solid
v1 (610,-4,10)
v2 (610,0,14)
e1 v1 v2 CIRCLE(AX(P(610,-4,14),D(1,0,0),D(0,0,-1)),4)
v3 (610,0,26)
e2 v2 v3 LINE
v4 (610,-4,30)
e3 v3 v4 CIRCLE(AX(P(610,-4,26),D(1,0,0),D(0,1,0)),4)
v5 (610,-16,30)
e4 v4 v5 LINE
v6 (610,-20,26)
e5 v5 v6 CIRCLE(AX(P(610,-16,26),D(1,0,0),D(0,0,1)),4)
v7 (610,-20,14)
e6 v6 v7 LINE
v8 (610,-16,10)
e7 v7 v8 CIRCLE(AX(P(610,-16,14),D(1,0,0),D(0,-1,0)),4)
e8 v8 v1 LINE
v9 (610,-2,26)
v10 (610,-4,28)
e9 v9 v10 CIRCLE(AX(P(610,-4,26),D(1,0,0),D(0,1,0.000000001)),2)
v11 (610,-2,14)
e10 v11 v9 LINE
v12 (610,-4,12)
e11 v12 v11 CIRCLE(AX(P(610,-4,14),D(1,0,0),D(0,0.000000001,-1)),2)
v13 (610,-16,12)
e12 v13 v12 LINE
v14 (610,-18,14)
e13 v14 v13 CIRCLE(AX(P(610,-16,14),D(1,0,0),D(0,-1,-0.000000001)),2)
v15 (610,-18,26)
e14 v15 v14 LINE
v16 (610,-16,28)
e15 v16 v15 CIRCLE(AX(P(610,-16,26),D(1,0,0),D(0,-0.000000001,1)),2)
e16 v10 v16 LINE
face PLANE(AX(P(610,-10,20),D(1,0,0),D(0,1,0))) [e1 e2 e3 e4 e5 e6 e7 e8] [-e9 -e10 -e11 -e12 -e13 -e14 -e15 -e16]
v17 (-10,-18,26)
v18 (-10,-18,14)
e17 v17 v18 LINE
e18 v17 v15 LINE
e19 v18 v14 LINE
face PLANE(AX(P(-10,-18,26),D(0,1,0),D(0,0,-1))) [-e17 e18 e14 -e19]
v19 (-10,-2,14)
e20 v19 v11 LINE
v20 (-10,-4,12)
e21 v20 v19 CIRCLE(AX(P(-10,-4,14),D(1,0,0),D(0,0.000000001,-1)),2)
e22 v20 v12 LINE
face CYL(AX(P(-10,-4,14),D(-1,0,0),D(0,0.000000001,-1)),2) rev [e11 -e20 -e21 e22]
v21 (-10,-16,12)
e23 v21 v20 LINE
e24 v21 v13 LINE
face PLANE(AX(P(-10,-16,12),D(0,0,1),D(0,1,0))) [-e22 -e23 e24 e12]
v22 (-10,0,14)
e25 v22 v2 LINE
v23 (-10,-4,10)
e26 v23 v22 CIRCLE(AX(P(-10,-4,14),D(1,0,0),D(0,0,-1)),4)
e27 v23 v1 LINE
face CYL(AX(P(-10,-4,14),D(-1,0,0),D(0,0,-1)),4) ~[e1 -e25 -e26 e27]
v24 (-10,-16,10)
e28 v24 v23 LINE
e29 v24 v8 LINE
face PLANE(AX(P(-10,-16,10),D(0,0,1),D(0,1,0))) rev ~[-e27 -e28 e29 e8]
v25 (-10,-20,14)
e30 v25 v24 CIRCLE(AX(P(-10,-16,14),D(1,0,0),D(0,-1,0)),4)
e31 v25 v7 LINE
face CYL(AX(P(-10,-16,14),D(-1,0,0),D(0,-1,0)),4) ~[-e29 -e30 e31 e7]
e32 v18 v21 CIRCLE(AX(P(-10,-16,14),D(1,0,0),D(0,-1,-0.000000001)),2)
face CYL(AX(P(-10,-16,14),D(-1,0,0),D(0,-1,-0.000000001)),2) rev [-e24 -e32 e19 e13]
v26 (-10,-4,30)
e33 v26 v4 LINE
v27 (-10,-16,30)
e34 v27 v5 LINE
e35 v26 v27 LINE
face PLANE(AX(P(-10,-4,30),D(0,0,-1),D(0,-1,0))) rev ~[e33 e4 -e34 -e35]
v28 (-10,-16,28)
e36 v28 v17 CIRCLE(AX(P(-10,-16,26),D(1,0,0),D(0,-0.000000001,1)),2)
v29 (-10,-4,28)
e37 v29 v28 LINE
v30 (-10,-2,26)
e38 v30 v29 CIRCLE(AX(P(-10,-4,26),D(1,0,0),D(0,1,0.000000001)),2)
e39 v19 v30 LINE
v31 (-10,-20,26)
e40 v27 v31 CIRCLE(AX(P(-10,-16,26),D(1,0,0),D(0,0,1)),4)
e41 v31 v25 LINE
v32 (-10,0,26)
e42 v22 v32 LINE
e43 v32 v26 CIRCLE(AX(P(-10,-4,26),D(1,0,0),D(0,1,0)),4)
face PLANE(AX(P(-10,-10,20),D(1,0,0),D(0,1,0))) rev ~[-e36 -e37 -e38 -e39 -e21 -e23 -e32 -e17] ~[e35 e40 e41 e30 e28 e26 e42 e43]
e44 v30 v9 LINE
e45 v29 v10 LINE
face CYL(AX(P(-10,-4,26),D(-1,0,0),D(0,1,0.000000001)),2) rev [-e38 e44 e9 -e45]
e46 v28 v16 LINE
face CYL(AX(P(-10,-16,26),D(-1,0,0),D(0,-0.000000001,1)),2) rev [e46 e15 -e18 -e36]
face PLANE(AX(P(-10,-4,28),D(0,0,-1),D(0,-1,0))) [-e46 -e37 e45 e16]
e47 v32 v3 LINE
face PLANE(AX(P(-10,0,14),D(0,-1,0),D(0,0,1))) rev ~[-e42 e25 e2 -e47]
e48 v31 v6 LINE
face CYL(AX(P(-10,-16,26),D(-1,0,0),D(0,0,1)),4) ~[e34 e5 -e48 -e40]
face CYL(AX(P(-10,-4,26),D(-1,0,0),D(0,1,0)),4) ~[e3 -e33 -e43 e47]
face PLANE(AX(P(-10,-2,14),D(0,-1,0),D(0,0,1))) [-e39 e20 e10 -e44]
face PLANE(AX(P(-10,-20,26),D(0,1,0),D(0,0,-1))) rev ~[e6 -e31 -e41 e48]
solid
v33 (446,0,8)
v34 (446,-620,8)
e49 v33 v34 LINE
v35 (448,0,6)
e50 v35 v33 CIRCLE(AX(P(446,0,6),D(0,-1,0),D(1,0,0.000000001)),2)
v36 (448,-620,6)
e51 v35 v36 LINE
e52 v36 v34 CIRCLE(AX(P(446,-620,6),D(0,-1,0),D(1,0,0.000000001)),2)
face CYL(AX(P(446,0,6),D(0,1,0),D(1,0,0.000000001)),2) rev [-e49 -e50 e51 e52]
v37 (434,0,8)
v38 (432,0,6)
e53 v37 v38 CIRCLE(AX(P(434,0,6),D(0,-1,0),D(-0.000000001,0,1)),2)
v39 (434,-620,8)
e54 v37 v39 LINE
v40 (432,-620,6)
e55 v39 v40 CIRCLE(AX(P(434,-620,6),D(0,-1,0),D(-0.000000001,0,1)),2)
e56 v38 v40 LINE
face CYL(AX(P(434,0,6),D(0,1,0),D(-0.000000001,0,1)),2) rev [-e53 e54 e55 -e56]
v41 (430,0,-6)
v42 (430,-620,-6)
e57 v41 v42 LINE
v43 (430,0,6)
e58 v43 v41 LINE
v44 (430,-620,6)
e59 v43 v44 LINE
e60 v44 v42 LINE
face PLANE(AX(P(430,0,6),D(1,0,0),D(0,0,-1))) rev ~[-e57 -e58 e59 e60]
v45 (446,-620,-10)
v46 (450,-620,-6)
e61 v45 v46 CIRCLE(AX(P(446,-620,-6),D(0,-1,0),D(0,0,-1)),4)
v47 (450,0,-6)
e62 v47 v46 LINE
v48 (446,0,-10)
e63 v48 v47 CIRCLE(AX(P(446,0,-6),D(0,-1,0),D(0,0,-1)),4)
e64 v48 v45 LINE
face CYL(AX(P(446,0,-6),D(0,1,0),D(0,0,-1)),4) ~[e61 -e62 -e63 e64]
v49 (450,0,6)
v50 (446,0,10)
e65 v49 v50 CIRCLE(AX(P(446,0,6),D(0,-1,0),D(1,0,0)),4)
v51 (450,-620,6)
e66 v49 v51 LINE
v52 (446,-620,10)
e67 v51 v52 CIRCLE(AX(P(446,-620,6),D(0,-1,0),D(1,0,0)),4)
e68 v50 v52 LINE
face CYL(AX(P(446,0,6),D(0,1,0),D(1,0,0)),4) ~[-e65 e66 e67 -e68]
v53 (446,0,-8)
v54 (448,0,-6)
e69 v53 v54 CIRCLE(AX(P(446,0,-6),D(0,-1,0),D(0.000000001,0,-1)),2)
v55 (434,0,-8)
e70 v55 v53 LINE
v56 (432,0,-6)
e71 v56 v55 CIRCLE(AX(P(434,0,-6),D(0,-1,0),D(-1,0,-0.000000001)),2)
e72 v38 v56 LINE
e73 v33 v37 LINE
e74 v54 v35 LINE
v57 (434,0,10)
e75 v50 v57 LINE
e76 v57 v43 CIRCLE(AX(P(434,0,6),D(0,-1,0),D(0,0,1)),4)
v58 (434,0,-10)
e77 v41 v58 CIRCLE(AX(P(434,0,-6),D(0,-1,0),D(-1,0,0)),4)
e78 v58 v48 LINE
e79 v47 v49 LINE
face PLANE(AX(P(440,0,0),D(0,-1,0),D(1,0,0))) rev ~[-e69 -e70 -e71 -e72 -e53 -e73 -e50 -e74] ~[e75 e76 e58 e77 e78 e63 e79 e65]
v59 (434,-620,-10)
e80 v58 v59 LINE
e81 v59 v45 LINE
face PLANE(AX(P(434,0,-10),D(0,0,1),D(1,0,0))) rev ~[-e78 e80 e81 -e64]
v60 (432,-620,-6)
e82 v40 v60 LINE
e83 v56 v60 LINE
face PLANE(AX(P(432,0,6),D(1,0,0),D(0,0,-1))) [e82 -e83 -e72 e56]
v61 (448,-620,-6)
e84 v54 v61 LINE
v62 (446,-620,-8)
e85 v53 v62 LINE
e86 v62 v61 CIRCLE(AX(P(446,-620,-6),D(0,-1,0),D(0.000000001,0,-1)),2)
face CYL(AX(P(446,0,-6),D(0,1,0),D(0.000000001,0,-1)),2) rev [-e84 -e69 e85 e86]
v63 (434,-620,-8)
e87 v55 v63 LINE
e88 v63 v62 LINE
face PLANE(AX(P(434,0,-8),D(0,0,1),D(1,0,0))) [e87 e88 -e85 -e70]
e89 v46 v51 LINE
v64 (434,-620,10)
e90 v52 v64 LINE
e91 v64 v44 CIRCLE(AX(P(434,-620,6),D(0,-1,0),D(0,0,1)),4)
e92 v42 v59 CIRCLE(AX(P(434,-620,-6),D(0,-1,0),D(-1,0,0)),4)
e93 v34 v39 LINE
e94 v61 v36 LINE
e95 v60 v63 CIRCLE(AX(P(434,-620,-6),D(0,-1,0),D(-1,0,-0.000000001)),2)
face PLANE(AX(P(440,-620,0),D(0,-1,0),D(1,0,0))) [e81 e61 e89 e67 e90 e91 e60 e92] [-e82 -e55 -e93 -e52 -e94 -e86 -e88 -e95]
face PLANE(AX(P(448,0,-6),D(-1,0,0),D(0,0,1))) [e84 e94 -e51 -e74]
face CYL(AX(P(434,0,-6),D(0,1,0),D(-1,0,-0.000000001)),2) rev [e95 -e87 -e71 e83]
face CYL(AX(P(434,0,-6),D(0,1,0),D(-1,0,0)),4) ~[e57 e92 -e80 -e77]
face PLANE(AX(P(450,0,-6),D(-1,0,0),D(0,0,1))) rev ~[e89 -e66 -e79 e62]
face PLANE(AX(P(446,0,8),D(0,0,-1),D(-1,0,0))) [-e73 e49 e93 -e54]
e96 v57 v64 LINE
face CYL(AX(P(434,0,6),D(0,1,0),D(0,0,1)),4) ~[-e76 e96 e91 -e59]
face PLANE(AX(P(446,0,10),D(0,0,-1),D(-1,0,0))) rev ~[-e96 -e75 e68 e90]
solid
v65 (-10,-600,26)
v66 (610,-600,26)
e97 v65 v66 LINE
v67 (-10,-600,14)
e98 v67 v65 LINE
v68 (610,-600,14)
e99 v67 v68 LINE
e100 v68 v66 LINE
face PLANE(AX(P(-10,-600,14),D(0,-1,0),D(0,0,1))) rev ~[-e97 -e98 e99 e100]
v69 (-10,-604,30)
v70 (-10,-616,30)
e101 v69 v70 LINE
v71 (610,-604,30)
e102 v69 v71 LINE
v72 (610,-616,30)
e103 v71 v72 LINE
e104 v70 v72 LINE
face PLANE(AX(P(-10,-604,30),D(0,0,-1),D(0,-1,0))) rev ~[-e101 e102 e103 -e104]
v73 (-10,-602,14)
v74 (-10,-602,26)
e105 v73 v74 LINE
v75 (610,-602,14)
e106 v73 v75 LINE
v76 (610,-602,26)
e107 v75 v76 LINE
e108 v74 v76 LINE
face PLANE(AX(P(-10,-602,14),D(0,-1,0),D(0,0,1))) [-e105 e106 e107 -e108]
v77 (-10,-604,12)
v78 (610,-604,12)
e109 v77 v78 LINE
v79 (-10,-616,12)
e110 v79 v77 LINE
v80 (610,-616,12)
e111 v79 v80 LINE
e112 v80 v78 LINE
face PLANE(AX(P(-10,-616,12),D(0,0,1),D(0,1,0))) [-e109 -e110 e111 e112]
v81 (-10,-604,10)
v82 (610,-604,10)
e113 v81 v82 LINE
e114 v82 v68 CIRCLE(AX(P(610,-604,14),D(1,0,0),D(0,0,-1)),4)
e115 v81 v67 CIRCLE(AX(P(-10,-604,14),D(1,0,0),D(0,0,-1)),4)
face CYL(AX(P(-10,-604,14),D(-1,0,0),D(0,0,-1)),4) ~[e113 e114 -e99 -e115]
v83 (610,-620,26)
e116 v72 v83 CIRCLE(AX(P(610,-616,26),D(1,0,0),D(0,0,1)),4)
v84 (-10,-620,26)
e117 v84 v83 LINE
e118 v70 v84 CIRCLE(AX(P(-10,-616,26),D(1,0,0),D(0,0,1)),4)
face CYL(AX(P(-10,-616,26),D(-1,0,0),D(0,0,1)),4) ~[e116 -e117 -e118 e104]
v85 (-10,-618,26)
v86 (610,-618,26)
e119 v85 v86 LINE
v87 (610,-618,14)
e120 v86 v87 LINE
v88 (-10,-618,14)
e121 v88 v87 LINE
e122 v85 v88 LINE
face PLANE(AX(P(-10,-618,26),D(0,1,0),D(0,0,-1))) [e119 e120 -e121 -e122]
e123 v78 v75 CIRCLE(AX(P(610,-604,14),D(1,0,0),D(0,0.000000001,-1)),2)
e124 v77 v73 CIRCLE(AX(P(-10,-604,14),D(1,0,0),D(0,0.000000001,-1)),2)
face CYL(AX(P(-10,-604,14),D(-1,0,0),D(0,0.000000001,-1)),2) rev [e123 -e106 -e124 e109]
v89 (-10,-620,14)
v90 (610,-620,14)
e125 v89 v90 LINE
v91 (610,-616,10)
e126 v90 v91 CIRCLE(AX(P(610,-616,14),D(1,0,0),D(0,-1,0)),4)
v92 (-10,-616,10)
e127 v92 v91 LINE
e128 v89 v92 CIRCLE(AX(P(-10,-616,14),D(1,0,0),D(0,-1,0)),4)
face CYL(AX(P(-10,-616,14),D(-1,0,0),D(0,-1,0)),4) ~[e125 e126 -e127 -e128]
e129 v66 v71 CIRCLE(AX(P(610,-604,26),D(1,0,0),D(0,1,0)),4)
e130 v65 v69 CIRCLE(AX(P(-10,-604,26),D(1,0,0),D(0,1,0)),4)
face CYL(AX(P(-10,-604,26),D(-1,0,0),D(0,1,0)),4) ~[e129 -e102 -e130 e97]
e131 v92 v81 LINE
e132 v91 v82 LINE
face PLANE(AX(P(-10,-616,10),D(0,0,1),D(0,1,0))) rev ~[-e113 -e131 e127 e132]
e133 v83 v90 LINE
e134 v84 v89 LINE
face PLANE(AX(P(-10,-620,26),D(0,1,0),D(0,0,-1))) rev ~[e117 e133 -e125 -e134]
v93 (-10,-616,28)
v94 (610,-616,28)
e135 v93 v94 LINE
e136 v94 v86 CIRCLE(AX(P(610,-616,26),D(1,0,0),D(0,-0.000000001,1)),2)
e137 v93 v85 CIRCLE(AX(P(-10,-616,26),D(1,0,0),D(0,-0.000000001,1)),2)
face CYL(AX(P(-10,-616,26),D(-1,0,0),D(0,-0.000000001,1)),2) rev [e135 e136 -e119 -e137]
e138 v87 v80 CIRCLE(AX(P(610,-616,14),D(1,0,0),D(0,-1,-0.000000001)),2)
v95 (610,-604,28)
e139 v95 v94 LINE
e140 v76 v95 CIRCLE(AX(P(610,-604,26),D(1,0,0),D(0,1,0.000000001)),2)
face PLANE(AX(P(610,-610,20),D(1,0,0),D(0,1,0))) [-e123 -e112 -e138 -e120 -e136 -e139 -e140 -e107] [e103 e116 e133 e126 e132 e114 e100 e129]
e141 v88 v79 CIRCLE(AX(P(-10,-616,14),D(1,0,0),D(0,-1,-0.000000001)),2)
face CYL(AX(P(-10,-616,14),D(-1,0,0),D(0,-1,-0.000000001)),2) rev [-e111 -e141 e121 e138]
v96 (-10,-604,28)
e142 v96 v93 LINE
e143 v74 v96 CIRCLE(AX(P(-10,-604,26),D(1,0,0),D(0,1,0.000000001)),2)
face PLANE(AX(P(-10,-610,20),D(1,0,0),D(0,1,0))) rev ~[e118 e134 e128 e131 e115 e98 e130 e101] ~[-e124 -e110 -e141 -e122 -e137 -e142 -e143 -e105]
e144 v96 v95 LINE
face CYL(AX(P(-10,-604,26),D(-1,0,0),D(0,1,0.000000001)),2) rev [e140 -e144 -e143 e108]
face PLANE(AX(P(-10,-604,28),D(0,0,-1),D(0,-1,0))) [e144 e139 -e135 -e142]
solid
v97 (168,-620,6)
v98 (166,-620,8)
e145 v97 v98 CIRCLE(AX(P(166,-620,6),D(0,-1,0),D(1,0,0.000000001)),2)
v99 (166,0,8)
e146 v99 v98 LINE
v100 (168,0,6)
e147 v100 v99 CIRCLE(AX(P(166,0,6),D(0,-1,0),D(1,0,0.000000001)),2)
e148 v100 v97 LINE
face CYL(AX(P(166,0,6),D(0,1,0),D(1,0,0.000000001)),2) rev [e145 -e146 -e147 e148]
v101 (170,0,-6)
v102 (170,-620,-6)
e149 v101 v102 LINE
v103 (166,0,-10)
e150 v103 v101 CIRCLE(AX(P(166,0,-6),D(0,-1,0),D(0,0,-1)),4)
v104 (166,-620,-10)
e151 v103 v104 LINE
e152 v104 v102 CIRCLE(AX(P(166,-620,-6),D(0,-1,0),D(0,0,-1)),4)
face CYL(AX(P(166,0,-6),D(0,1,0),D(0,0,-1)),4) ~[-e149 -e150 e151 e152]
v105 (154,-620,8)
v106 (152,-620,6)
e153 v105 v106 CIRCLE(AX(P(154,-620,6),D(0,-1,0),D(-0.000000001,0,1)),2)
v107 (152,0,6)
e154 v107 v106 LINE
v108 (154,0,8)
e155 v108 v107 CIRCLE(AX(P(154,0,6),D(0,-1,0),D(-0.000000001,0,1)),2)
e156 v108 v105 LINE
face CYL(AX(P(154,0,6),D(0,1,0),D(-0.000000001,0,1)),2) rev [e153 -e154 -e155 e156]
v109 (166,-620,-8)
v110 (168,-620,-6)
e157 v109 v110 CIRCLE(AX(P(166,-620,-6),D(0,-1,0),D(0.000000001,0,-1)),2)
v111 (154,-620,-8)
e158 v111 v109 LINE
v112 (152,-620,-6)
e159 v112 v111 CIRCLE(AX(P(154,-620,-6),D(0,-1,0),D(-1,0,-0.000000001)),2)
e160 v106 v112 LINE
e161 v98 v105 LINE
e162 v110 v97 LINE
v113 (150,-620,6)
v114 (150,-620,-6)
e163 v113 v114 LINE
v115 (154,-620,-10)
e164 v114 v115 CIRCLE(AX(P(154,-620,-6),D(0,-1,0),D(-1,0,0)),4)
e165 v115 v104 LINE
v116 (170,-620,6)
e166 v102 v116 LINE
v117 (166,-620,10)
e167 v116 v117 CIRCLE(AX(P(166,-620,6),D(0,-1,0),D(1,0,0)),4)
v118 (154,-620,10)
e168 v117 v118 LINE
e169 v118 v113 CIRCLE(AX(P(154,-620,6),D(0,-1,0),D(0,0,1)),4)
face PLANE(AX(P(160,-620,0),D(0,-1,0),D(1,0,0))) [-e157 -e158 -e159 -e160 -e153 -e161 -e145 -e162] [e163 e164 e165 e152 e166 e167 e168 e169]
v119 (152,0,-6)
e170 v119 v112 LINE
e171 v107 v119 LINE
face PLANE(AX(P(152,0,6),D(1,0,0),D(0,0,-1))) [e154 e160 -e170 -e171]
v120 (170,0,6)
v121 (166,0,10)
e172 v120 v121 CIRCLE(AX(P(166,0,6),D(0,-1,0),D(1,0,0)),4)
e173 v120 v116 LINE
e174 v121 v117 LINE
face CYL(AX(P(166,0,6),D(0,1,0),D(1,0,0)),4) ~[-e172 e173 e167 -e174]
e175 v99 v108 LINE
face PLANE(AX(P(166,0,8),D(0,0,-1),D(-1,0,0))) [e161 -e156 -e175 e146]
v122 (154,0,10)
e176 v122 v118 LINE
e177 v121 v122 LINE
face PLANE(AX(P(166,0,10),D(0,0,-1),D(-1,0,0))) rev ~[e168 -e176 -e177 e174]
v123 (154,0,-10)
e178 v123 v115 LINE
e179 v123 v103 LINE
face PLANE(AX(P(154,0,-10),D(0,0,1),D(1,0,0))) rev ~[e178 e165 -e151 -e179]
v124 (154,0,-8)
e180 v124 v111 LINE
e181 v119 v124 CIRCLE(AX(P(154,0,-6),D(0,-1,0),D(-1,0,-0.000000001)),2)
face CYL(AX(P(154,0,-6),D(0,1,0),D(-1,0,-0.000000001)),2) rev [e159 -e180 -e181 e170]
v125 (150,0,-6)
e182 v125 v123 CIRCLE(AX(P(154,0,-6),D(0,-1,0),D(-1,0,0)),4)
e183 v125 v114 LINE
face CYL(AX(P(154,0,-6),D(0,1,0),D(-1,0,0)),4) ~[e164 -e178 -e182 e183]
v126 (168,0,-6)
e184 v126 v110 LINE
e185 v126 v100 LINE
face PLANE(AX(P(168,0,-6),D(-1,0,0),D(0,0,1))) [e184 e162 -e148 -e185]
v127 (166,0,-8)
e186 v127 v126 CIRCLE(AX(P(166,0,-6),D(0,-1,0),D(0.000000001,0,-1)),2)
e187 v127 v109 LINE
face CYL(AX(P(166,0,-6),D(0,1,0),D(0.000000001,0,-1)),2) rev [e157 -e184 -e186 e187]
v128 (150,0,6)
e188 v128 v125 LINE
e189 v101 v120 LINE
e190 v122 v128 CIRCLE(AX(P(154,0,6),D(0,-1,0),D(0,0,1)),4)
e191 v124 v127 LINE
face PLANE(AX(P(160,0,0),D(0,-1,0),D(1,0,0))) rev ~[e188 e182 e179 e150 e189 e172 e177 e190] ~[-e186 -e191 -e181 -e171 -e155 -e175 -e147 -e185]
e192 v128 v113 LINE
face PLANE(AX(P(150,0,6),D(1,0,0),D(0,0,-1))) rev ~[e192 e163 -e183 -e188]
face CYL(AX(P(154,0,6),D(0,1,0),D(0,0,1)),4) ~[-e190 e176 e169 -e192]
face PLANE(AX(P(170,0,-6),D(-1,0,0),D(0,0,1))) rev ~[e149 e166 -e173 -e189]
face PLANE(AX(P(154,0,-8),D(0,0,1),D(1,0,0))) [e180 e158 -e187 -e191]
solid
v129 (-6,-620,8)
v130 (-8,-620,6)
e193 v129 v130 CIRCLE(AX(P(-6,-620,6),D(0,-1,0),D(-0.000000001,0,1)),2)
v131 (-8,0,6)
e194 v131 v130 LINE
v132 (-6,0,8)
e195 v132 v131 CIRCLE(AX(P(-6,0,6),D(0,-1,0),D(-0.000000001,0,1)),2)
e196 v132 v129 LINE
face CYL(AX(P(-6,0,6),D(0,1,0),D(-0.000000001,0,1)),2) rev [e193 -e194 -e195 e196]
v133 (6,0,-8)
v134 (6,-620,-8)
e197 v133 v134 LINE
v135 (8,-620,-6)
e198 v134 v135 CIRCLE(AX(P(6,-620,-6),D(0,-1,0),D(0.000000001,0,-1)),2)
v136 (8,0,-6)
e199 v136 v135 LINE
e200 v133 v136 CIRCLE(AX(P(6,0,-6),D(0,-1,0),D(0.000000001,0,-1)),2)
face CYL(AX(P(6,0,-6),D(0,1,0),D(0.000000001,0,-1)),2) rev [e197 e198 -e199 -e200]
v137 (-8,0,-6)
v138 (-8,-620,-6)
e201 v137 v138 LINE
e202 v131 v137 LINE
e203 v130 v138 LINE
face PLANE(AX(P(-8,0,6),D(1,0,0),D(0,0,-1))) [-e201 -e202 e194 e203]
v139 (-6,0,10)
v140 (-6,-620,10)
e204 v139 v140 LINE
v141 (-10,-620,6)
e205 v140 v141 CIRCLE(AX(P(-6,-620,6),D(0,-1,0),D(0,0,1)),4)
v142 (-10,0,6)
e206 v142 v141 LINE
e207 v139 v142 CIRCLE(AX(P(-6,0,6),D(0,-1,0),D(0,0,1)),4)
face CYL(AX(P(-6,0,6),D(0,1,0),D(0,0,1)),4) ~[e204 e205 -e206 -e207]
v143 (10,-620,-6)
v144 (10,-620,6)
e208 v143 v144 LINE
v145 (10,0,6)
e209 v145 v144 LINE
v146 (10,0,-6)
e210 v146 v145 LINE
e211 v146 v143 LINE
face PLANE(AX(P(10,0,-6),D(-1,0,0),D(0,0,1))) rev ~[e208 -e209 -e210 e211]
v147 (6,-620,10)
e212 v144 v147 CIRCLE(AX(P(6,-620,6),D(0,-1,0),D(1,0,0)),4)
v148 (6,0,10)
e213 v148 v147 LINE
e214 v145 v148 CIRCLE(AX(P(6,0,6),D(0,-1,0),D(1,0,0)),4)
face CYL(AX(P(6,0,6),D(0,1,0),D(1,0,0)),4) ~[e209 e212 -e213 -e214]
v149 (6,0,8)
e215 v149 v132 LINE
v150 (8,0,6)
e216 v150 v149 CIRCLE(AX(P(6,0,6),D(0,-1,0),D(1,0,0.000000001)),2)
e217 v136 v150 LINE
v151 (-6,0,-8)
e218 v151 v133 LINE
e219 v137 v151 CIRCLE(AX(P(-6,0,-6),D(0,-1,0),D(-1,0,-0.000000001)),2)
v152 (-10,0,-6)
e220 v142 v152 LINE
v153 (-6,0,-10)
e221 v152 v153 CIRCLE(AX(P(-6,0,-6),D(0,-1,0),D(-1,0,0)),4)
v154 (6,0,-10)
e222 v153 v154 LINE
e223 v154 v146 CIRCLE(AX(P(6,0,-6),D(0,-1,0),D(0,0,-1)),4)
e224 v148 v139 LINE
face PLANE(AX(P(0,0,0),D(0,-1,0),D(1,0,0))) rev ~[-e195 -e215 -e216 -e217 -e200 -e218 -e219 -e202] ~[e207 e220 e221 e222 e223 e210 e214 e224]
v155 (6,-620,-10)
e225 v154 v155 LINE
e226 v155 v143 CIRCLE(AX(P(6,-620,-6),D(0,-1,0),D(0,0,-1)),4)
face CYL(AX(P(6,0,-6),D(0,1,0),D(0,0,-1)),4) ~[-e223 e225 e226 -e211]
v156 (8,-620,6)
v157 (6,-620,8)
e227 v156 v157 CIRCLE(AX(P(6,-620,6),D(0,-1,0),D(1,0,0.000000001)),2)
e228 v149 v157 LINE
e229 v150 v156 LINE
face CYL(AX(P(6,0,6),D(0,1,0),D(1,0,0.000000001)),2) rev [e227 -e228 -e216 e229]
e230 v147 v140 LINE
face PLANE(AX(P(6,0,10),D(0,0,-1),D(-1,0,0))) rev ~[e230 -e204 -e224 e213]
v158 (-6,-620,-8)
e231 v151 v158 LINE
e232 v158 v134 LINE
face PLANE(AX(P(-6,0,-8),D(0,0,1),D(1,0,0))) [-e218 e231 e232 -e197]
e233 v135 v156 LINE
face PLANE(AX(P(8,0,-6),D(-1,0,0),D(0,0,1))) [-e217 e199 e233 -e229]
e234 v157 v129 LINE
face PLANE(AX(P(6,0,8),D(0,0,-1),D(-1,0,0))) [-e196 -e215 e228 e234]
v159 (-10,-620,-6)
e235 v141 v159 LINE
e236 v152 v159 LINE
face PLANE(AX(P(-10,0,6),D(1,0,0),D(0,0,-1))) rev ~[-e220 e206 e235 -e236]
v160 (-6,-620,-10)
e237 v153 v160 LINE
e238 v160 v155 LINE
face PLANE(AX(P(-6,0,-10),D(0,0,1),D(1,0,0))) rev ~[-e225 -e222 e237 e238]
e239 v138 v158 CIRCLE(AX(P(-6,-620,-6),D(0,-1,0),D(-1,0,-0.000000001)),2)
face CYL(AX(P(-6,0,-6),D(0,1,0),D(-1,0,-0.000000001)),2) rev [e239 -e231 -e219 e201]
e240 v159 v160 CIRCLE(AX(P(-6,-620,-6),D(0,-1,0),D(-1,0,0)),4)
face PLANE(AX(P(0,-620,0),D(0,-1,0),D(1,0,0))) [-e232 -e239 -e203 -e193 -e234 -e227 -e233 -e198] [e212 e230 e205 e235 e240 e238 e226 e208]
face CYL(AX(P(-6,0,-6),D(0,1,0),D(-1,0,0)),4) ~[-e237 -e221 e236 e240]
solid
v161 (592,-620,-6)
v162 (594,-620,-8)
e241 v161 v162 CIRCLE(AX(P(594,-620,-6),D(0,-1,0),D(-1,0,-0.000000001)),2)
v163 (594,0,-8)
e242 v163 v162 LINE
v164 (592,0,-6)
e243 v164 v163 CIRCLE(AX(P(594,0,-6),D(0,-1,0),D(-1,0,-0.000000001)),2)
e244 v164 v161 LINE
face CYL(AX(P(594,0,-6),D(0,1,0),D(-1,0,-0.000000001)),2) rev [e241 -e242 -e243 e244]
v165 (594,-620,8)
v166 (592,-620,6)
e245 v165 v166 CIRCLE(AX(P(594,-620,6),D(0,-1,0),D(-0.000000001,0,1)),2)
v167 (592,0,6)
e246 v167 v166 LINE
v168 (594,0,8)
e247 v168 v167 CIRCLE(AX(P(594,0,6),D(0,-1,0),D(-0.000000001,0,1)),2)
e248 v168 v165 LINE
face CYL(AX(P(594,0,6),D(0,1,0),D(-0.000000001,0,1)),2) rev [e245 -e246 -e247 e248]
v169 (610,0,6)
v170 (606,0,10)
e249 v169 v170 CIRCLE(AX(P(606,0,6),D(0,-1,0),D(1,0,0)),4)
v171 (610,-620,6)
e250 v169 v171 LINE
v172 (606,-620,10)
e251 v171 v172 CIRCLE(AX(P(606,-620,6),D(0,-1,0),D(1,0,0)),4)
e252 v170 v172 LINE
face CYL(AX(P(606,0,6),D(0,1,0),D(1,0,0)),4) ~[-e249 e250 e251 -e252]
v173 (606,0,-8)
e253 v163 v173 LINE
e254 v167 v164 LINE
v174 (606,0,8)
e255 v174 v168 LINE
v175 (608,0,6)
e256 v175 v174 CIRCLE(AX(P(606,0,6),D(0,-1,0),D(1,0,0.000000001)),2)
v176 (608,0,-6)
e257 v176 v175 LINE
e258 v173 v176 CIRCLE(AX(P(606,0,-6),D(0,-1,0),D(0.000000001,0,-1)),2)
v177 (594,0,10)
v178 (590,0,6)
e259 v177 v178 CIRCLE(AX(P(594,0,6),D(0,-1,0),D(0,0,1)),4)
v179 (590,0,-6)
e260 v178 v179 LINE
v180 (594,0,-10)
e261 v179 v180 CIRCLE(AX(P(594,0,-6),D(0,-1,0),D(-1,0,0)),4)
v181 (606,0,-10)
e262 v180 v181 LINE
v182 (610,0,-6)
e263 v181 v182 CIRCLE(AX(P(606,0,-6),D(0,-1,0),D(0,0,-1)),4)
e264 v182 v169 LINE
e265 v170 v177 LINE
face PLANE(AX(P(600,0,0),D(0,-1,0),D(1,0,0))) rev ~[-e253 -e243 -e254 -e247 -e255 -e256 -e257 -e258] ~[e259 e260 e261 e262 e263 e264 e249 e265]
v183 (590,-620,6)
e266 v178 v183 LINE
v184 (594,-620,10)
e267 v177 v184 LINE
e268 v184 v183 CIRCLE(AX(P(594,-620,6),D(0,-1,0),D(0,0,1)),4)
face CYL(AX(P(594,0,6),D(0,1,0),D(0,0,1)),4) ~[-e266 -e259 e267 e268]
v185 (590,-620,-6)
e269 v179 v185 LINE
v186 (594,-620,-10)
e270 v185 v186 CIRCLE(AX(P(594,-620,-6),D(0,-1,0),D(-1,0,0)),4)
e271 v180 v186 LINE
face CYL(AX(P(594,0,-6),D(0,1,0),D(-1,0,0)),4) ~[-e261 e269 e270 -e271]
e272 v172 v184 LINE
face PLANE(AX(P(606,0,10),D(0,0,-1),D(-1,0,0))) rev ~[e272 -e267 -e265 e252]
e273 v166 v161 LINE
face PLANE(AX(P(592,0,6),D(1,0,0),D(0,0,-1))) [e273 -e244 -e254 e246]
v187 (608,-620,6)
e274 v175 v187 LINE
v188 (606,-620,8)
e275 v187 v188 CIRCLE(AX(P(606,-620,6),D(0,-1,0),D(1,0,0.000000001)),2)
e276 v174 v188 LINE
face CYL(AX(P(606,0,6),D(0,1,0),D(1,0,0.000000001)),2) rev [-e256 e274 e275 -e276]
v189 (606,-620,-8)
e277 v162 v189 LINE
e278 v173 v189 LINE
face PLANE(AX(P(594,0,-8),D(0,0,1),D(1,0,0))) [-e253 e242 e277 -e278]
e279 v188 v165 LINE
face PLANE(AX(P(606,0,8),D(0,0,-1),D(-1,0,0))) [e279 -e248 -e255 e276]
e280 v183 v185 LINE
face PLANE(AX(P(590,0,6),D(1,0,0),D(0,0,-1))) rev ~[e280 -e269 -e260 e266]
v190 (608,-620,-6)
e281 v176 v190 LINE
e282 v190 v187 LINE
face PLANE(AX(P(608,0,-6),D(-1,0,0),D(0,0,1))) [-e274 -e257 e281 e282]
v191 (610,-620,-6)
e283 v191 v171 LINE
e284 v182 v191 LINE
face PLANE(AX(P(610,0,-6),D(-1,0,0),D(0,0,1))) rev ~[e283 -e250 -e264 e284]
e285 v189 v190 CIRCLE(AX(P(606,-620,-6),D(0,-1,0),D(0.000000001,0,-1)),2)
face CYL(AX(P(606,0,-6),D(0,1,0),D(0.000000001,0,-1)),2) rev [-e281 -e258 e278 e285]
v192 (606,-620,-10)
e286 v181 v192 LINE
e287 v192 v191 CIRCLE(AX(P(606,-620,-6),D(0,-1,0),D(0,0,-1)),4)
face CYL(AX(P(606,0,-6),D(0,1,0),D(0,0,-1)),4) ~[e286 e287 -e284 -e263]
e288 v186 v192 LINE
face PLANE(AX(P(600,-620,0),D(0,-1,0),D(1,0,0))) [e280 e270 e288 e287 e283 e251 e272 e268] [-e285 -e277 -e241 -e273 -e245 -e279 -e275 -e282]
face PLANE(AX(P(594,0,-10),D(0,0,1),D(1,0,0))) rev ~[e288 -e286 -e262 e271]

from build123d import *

# Parameters (mm, degrees)
SQUARE_TUBE_20_X_20_X_2_1_DEPTH   = 620
SQUARE_TUBE_20_X_20_X_2_1_2_DEPTH = 620
SQUARE_TUBE_20_X_20_X_2_1_3_DEPTH = 620
SQUARE_TUBE_20_X_20_X_2_1_4_DEPTH = 620
SQUARE_TUBE_20_X_20_X_2_1_5_DEPTH = 620
SQUARE_TUBE_20_X_20_X_2_1_6_DEPTH = 620


with BuildPart() as part:
    # Sketch12 → Square tube 20 X 20 X 2(1) (new body)
    with BuildSketch(Plane(origin=(600, 0, 0), x_dir=(1, 0, 0), z_dir=(0, -1, 0))):
        with BuildLine():
            Line((-6, -10), (6, -10))
            ThreePointArc((6, -10), (8.828427125, -8.828427125), (10, -6))
            Line((10, -6), (10, 6))
            ThreePointArc((10, 6), (8.828427125, 8.828427125), (6, 10))
            Line((6, 10), (-6, 10))
            ThreePointArc((-6, 10), (-8.828427125, 8.828427125), (-10, 6))
            Line((-10, 6), (-10, -6))
            ThreePointArc((-10, -6), (-8.828427125, -8.828427125), (-6, -10))
        make_face()
        with BuildLine():
            Line((-6, -8), (6, -8))
            ThreePointArc((6, -8), (7.414213562, -7.414213562), (8, -6))
            Line((8, -6), (8, 6))
            ThreePointArc((8, 6), (7.414213562, 7.414213562), (6, 8))
            Line((6, 8), (-6, 8))
            ThreePointArc((-6, 8), (-7.414213562, 7.414213562), (-8, 6))
            Line((-8, 6), (-8, -6))
            ThreePointArc((-8, -6), (-7.414213562, -7.414213562), (-6, -8))
        make_face(mode=Mode.SUBTRACT)
    extrude(amount=SQUARE_TUBE_20_X_20_X_2_1_DEPTH)


with BuildPart() as body_2:
    # Sketch12 on segment 2 (carried to segment 2) → Square tube 20 X 20 X 2_1 2 (new body)
    with BuildSketch(Plane.XZ):
        with BuildLine():
            Line((-6, -10), (6, -10))
            ThreePointArc((6, -10), (8.828427125, -8.828427125), (10, -6))
            Line((10, -6), (10, 6))
            ThreePointArc((10, 6), (8.828427125, 8.828427125), (6, 10))
            Line((6, 10), (-6, 10))
            ThreePointArc((-6, 10), (-8.828427125, 8.828427125), (-10, 6))
            Line((-10, 6), (-10, -6))
            ThreePointArc((-10, -6), (-8.828427125, -8.828427125), (-6, -10))
        make_face()
        with BuildLine():
            Line((-6, -8), (6, -8))
            ThreePointArc((6, -8), (7.414213562, -7.414213562), (8, -6))
            Line((8, -6), (8, 6))
            ThreePointArc((8, 6), (7.414213562, 7.414213562), (6, 8))
            Line((6, 8), (-6, 8))
            ThreePointArc((-6, 8), (-7.414213562, 7.414213562), (-8, 6))
            Line((-8, 6), (-8, -6))
            ThreePointArc((-8, -6), (-7.414213562, -7.414213562), (-6, -8))
        make_face(mode=Mode.SUBTRACT)
    extrude(amount=SQUARE_TUBE_20_X_20_X_2_1_2_DEPTH)


with BuildPart() as body_3:
    # Sketch12 on segment 3 (carried to segment 3) → Square tube 20 X 20 X 2_1 3 (new body)
    with BuildSketch(Plane(origin=(440, 0, 0), x_dir=(1, 0, 0), z_dir=(0, -1, 0))):
        with BuildLine():
            Line((-6, -10), (6, -10))
            ThreePointArc((6, -10), (8.828427125, -8.828427125), (10, -6))
            Line((10, -6), (10, 6))
            ThreePointArc((10, 6), (8.828427125, 8.828427125), (6, 10))
            Line((6, 10), (-6, 10))
            ThreePointArc((-6, 10), (-8.828427125, 8.828427125), (-10, 6))
            Line((-10, 6), (-10, -6))
            ThreePointArc((-10, -6), (-8.828427125, -8.828427125), (-6, -10))
        make_face()
        with BuildLine():
            Line((-6, -8), (6, -8))
            ThreePointArc((6, -8), (7.414213562, -7.414213562), (8, -6))
            Line((8, -6), (8, 6))
            ThreePointArc((8, 6), (7.414213562, 7.414213562), (6, 8))
            Line((6, 8), (-6, 8))
            ThreePointArc((-6, 8), (-7.414213562, 7.414213562), (-8, 6))
            Line((-8, 6), (-8, -6))
            ThreePointArc((-8, -6), (-7.414213562, -7.414213562), (-6, -8))
        make_face(mode=Mode.SUBTRACT)
    extrude(amount=SQUARE_TUBE_20_X_20_X_2_1_3_DEPTH)


with BuildPart() as body_4:
    # Sketch12 on segment 4 (carried to segment 4) → Square tube 20 X 20 X 2_1 4 (new body)
    with BuildSketch(Plane(origin=(160, 0, 0), x_dir=(1, 0, 0), z_dir=(0, -1, 0))):
        with BuildLine():
            Line((-6, -10), (6, -10))
            ThreePointArc((6, -10), (8.828427125, -8.828427125), (10, -6))
            Line((10, -6), (10, 6))
            ThreePointArc((10, 6), (8.828427125, 8.828427125), (6, 10))
            Line((6, 10), (-6, 10))
            ThreePointArc((-6, 10), (-8.828427125, 8.828427125), (-10, 6))
            Line((-10, 6), (-10, -6))
            ThreePointArc((-10, -6), (-8.828427125, -8.828427125), (-6, -10))
        make_face()
        with BuildLine():
            Line((-6, -8), (6, -8))
            ThreePointArc((6, -8), (7.414213562, -7.414213562), (8, -6))
            Line((8, -6), (8, 6))
            ThreePointArc((8, 6), (7.414213562, 7.414213562), (6, 8))
            Line((6, 8), (-6, 8))
            ThreePointArc((-6, 8), (-7.414213562, 7.414213562), (-8, 6))
            Line((-8, 6), (-8, -6))
            ThreePointArc((-8, -6), (-7.414213562, -7.414213562), (-6, -8))
        make_face(mode=Mode.SUBTRACT)
    extrude(amount=SQUARE_TUBE_20_X_20_X_2_1_4_DEPTH)


with BuildPart() as body_5:
    # Sketch12 on segment 5 (carried to segment 5) → Square tube 20 X 20 X 2_1 5 (new body)
    with BuildSketch(Plane(origin=(-10, -610, 20), x_dir=(0, 1, 0), z_dir=(1, 0, 0))):
        with BuildLine():
            Line((-6, -10), (6, -10))
            ThreePointArc((6, -10), (8.828427125, -8.828427125), (10, -6))
            Line((10, -6), (10, 6))
            ThreePointArc((10, 6), (8.828427125, 8.828427125), (6, 10))
            Line((6, 10), (-6, 10))
            ThreePointArc((-6, 10), (-8.828427125, 8.828427125), (-10, 6))
            Line((-10, 6), (-10, -6))
            ThreePointArc((-10, -6), (-8.828427125, -8.828427125), (-6, -10))
        make_face()
        with BuildLine():
            Line((-6, -8), (6, -8))
            ThreePointArc((6, -8), (7.414213562, -7.414213562), (8, -6))
            Line((8, -6), (8, 6))
            ThreePointArc((8, 6), (7.414213562, 7.414213562), (6, 8))
            Line((6, 8), (-6, 8))
            ThreePointArc((-6, 8), (-7.414213562, 7.414213562), (-8, 6))
            Line((-8, 6), (-8, -6))
            ThreePointArc((-8, -6), (-7.414213562, -7.414213562), (-6, -8))
        make_face(mode=Mode.SUBTRACT)
    extrude(amount=SQUARE_TUBE_20_X_20_X_2_1_5_DEPTH)


with BuildPart() as body_6:
    # Sketch12 on segment 6 (carried to segment 6) → Square tube 20 X 20 X 2_1 6 (new body)
    with BuildSketch(Plane(origin=(-10, -10, 20), x_dir=(0, 1, 0), z_dir=(1, 0, 0))):
        with BuildLine():
            Line((-6, -10), (6, -10))
            ThreePointArc((6, -10), (8.828427125, -8.828427125), (10, -6))
            Line((10, -6), (10, 6))
            ThreePointArc((10, 6), (8.828427125, 8.828427125), (6, 10))
            Line((6, 10), (-6, 10))
            ThreePointArc((-6, 10), (-8.828427125, 8.828427125), (-10, 6))
            Line((-10, 6), (-10, -6))
            ThreePointArc((-10, -6), (-8.828427125, -8.828427125), (-6, -10))
        make_face()
        with BuildLine():
            Line((-6, -8), (6, -8))
            ThreePointArc((6, -8), (7.414213562, -7.414213562), (8, -6))
            Line((8, -6), (8, 6))
            ThreePointArc((8, 6), (7.414213562, 7.414213562), (6, 8))
            Line((6, 8), (-6, 8))
            ThreePointArc((-6, 8), (-7.414213562, 7.414213562), (-8, 6))
            Line((-8, 6), (-8, -6))
            ThreePointArc((-8, -6), (-7.414213562, -7.414213562), (-6, -8))
        make_face(mode=Mode.SUBTRACT)
    extrude(amount=SQUARE_TUBE_20_X_20_X_2_1_6_DEPTH)


solid = Compound([part.part, body_2.part, body_3.part, body_4.part, body_5.part, body_6.part])
